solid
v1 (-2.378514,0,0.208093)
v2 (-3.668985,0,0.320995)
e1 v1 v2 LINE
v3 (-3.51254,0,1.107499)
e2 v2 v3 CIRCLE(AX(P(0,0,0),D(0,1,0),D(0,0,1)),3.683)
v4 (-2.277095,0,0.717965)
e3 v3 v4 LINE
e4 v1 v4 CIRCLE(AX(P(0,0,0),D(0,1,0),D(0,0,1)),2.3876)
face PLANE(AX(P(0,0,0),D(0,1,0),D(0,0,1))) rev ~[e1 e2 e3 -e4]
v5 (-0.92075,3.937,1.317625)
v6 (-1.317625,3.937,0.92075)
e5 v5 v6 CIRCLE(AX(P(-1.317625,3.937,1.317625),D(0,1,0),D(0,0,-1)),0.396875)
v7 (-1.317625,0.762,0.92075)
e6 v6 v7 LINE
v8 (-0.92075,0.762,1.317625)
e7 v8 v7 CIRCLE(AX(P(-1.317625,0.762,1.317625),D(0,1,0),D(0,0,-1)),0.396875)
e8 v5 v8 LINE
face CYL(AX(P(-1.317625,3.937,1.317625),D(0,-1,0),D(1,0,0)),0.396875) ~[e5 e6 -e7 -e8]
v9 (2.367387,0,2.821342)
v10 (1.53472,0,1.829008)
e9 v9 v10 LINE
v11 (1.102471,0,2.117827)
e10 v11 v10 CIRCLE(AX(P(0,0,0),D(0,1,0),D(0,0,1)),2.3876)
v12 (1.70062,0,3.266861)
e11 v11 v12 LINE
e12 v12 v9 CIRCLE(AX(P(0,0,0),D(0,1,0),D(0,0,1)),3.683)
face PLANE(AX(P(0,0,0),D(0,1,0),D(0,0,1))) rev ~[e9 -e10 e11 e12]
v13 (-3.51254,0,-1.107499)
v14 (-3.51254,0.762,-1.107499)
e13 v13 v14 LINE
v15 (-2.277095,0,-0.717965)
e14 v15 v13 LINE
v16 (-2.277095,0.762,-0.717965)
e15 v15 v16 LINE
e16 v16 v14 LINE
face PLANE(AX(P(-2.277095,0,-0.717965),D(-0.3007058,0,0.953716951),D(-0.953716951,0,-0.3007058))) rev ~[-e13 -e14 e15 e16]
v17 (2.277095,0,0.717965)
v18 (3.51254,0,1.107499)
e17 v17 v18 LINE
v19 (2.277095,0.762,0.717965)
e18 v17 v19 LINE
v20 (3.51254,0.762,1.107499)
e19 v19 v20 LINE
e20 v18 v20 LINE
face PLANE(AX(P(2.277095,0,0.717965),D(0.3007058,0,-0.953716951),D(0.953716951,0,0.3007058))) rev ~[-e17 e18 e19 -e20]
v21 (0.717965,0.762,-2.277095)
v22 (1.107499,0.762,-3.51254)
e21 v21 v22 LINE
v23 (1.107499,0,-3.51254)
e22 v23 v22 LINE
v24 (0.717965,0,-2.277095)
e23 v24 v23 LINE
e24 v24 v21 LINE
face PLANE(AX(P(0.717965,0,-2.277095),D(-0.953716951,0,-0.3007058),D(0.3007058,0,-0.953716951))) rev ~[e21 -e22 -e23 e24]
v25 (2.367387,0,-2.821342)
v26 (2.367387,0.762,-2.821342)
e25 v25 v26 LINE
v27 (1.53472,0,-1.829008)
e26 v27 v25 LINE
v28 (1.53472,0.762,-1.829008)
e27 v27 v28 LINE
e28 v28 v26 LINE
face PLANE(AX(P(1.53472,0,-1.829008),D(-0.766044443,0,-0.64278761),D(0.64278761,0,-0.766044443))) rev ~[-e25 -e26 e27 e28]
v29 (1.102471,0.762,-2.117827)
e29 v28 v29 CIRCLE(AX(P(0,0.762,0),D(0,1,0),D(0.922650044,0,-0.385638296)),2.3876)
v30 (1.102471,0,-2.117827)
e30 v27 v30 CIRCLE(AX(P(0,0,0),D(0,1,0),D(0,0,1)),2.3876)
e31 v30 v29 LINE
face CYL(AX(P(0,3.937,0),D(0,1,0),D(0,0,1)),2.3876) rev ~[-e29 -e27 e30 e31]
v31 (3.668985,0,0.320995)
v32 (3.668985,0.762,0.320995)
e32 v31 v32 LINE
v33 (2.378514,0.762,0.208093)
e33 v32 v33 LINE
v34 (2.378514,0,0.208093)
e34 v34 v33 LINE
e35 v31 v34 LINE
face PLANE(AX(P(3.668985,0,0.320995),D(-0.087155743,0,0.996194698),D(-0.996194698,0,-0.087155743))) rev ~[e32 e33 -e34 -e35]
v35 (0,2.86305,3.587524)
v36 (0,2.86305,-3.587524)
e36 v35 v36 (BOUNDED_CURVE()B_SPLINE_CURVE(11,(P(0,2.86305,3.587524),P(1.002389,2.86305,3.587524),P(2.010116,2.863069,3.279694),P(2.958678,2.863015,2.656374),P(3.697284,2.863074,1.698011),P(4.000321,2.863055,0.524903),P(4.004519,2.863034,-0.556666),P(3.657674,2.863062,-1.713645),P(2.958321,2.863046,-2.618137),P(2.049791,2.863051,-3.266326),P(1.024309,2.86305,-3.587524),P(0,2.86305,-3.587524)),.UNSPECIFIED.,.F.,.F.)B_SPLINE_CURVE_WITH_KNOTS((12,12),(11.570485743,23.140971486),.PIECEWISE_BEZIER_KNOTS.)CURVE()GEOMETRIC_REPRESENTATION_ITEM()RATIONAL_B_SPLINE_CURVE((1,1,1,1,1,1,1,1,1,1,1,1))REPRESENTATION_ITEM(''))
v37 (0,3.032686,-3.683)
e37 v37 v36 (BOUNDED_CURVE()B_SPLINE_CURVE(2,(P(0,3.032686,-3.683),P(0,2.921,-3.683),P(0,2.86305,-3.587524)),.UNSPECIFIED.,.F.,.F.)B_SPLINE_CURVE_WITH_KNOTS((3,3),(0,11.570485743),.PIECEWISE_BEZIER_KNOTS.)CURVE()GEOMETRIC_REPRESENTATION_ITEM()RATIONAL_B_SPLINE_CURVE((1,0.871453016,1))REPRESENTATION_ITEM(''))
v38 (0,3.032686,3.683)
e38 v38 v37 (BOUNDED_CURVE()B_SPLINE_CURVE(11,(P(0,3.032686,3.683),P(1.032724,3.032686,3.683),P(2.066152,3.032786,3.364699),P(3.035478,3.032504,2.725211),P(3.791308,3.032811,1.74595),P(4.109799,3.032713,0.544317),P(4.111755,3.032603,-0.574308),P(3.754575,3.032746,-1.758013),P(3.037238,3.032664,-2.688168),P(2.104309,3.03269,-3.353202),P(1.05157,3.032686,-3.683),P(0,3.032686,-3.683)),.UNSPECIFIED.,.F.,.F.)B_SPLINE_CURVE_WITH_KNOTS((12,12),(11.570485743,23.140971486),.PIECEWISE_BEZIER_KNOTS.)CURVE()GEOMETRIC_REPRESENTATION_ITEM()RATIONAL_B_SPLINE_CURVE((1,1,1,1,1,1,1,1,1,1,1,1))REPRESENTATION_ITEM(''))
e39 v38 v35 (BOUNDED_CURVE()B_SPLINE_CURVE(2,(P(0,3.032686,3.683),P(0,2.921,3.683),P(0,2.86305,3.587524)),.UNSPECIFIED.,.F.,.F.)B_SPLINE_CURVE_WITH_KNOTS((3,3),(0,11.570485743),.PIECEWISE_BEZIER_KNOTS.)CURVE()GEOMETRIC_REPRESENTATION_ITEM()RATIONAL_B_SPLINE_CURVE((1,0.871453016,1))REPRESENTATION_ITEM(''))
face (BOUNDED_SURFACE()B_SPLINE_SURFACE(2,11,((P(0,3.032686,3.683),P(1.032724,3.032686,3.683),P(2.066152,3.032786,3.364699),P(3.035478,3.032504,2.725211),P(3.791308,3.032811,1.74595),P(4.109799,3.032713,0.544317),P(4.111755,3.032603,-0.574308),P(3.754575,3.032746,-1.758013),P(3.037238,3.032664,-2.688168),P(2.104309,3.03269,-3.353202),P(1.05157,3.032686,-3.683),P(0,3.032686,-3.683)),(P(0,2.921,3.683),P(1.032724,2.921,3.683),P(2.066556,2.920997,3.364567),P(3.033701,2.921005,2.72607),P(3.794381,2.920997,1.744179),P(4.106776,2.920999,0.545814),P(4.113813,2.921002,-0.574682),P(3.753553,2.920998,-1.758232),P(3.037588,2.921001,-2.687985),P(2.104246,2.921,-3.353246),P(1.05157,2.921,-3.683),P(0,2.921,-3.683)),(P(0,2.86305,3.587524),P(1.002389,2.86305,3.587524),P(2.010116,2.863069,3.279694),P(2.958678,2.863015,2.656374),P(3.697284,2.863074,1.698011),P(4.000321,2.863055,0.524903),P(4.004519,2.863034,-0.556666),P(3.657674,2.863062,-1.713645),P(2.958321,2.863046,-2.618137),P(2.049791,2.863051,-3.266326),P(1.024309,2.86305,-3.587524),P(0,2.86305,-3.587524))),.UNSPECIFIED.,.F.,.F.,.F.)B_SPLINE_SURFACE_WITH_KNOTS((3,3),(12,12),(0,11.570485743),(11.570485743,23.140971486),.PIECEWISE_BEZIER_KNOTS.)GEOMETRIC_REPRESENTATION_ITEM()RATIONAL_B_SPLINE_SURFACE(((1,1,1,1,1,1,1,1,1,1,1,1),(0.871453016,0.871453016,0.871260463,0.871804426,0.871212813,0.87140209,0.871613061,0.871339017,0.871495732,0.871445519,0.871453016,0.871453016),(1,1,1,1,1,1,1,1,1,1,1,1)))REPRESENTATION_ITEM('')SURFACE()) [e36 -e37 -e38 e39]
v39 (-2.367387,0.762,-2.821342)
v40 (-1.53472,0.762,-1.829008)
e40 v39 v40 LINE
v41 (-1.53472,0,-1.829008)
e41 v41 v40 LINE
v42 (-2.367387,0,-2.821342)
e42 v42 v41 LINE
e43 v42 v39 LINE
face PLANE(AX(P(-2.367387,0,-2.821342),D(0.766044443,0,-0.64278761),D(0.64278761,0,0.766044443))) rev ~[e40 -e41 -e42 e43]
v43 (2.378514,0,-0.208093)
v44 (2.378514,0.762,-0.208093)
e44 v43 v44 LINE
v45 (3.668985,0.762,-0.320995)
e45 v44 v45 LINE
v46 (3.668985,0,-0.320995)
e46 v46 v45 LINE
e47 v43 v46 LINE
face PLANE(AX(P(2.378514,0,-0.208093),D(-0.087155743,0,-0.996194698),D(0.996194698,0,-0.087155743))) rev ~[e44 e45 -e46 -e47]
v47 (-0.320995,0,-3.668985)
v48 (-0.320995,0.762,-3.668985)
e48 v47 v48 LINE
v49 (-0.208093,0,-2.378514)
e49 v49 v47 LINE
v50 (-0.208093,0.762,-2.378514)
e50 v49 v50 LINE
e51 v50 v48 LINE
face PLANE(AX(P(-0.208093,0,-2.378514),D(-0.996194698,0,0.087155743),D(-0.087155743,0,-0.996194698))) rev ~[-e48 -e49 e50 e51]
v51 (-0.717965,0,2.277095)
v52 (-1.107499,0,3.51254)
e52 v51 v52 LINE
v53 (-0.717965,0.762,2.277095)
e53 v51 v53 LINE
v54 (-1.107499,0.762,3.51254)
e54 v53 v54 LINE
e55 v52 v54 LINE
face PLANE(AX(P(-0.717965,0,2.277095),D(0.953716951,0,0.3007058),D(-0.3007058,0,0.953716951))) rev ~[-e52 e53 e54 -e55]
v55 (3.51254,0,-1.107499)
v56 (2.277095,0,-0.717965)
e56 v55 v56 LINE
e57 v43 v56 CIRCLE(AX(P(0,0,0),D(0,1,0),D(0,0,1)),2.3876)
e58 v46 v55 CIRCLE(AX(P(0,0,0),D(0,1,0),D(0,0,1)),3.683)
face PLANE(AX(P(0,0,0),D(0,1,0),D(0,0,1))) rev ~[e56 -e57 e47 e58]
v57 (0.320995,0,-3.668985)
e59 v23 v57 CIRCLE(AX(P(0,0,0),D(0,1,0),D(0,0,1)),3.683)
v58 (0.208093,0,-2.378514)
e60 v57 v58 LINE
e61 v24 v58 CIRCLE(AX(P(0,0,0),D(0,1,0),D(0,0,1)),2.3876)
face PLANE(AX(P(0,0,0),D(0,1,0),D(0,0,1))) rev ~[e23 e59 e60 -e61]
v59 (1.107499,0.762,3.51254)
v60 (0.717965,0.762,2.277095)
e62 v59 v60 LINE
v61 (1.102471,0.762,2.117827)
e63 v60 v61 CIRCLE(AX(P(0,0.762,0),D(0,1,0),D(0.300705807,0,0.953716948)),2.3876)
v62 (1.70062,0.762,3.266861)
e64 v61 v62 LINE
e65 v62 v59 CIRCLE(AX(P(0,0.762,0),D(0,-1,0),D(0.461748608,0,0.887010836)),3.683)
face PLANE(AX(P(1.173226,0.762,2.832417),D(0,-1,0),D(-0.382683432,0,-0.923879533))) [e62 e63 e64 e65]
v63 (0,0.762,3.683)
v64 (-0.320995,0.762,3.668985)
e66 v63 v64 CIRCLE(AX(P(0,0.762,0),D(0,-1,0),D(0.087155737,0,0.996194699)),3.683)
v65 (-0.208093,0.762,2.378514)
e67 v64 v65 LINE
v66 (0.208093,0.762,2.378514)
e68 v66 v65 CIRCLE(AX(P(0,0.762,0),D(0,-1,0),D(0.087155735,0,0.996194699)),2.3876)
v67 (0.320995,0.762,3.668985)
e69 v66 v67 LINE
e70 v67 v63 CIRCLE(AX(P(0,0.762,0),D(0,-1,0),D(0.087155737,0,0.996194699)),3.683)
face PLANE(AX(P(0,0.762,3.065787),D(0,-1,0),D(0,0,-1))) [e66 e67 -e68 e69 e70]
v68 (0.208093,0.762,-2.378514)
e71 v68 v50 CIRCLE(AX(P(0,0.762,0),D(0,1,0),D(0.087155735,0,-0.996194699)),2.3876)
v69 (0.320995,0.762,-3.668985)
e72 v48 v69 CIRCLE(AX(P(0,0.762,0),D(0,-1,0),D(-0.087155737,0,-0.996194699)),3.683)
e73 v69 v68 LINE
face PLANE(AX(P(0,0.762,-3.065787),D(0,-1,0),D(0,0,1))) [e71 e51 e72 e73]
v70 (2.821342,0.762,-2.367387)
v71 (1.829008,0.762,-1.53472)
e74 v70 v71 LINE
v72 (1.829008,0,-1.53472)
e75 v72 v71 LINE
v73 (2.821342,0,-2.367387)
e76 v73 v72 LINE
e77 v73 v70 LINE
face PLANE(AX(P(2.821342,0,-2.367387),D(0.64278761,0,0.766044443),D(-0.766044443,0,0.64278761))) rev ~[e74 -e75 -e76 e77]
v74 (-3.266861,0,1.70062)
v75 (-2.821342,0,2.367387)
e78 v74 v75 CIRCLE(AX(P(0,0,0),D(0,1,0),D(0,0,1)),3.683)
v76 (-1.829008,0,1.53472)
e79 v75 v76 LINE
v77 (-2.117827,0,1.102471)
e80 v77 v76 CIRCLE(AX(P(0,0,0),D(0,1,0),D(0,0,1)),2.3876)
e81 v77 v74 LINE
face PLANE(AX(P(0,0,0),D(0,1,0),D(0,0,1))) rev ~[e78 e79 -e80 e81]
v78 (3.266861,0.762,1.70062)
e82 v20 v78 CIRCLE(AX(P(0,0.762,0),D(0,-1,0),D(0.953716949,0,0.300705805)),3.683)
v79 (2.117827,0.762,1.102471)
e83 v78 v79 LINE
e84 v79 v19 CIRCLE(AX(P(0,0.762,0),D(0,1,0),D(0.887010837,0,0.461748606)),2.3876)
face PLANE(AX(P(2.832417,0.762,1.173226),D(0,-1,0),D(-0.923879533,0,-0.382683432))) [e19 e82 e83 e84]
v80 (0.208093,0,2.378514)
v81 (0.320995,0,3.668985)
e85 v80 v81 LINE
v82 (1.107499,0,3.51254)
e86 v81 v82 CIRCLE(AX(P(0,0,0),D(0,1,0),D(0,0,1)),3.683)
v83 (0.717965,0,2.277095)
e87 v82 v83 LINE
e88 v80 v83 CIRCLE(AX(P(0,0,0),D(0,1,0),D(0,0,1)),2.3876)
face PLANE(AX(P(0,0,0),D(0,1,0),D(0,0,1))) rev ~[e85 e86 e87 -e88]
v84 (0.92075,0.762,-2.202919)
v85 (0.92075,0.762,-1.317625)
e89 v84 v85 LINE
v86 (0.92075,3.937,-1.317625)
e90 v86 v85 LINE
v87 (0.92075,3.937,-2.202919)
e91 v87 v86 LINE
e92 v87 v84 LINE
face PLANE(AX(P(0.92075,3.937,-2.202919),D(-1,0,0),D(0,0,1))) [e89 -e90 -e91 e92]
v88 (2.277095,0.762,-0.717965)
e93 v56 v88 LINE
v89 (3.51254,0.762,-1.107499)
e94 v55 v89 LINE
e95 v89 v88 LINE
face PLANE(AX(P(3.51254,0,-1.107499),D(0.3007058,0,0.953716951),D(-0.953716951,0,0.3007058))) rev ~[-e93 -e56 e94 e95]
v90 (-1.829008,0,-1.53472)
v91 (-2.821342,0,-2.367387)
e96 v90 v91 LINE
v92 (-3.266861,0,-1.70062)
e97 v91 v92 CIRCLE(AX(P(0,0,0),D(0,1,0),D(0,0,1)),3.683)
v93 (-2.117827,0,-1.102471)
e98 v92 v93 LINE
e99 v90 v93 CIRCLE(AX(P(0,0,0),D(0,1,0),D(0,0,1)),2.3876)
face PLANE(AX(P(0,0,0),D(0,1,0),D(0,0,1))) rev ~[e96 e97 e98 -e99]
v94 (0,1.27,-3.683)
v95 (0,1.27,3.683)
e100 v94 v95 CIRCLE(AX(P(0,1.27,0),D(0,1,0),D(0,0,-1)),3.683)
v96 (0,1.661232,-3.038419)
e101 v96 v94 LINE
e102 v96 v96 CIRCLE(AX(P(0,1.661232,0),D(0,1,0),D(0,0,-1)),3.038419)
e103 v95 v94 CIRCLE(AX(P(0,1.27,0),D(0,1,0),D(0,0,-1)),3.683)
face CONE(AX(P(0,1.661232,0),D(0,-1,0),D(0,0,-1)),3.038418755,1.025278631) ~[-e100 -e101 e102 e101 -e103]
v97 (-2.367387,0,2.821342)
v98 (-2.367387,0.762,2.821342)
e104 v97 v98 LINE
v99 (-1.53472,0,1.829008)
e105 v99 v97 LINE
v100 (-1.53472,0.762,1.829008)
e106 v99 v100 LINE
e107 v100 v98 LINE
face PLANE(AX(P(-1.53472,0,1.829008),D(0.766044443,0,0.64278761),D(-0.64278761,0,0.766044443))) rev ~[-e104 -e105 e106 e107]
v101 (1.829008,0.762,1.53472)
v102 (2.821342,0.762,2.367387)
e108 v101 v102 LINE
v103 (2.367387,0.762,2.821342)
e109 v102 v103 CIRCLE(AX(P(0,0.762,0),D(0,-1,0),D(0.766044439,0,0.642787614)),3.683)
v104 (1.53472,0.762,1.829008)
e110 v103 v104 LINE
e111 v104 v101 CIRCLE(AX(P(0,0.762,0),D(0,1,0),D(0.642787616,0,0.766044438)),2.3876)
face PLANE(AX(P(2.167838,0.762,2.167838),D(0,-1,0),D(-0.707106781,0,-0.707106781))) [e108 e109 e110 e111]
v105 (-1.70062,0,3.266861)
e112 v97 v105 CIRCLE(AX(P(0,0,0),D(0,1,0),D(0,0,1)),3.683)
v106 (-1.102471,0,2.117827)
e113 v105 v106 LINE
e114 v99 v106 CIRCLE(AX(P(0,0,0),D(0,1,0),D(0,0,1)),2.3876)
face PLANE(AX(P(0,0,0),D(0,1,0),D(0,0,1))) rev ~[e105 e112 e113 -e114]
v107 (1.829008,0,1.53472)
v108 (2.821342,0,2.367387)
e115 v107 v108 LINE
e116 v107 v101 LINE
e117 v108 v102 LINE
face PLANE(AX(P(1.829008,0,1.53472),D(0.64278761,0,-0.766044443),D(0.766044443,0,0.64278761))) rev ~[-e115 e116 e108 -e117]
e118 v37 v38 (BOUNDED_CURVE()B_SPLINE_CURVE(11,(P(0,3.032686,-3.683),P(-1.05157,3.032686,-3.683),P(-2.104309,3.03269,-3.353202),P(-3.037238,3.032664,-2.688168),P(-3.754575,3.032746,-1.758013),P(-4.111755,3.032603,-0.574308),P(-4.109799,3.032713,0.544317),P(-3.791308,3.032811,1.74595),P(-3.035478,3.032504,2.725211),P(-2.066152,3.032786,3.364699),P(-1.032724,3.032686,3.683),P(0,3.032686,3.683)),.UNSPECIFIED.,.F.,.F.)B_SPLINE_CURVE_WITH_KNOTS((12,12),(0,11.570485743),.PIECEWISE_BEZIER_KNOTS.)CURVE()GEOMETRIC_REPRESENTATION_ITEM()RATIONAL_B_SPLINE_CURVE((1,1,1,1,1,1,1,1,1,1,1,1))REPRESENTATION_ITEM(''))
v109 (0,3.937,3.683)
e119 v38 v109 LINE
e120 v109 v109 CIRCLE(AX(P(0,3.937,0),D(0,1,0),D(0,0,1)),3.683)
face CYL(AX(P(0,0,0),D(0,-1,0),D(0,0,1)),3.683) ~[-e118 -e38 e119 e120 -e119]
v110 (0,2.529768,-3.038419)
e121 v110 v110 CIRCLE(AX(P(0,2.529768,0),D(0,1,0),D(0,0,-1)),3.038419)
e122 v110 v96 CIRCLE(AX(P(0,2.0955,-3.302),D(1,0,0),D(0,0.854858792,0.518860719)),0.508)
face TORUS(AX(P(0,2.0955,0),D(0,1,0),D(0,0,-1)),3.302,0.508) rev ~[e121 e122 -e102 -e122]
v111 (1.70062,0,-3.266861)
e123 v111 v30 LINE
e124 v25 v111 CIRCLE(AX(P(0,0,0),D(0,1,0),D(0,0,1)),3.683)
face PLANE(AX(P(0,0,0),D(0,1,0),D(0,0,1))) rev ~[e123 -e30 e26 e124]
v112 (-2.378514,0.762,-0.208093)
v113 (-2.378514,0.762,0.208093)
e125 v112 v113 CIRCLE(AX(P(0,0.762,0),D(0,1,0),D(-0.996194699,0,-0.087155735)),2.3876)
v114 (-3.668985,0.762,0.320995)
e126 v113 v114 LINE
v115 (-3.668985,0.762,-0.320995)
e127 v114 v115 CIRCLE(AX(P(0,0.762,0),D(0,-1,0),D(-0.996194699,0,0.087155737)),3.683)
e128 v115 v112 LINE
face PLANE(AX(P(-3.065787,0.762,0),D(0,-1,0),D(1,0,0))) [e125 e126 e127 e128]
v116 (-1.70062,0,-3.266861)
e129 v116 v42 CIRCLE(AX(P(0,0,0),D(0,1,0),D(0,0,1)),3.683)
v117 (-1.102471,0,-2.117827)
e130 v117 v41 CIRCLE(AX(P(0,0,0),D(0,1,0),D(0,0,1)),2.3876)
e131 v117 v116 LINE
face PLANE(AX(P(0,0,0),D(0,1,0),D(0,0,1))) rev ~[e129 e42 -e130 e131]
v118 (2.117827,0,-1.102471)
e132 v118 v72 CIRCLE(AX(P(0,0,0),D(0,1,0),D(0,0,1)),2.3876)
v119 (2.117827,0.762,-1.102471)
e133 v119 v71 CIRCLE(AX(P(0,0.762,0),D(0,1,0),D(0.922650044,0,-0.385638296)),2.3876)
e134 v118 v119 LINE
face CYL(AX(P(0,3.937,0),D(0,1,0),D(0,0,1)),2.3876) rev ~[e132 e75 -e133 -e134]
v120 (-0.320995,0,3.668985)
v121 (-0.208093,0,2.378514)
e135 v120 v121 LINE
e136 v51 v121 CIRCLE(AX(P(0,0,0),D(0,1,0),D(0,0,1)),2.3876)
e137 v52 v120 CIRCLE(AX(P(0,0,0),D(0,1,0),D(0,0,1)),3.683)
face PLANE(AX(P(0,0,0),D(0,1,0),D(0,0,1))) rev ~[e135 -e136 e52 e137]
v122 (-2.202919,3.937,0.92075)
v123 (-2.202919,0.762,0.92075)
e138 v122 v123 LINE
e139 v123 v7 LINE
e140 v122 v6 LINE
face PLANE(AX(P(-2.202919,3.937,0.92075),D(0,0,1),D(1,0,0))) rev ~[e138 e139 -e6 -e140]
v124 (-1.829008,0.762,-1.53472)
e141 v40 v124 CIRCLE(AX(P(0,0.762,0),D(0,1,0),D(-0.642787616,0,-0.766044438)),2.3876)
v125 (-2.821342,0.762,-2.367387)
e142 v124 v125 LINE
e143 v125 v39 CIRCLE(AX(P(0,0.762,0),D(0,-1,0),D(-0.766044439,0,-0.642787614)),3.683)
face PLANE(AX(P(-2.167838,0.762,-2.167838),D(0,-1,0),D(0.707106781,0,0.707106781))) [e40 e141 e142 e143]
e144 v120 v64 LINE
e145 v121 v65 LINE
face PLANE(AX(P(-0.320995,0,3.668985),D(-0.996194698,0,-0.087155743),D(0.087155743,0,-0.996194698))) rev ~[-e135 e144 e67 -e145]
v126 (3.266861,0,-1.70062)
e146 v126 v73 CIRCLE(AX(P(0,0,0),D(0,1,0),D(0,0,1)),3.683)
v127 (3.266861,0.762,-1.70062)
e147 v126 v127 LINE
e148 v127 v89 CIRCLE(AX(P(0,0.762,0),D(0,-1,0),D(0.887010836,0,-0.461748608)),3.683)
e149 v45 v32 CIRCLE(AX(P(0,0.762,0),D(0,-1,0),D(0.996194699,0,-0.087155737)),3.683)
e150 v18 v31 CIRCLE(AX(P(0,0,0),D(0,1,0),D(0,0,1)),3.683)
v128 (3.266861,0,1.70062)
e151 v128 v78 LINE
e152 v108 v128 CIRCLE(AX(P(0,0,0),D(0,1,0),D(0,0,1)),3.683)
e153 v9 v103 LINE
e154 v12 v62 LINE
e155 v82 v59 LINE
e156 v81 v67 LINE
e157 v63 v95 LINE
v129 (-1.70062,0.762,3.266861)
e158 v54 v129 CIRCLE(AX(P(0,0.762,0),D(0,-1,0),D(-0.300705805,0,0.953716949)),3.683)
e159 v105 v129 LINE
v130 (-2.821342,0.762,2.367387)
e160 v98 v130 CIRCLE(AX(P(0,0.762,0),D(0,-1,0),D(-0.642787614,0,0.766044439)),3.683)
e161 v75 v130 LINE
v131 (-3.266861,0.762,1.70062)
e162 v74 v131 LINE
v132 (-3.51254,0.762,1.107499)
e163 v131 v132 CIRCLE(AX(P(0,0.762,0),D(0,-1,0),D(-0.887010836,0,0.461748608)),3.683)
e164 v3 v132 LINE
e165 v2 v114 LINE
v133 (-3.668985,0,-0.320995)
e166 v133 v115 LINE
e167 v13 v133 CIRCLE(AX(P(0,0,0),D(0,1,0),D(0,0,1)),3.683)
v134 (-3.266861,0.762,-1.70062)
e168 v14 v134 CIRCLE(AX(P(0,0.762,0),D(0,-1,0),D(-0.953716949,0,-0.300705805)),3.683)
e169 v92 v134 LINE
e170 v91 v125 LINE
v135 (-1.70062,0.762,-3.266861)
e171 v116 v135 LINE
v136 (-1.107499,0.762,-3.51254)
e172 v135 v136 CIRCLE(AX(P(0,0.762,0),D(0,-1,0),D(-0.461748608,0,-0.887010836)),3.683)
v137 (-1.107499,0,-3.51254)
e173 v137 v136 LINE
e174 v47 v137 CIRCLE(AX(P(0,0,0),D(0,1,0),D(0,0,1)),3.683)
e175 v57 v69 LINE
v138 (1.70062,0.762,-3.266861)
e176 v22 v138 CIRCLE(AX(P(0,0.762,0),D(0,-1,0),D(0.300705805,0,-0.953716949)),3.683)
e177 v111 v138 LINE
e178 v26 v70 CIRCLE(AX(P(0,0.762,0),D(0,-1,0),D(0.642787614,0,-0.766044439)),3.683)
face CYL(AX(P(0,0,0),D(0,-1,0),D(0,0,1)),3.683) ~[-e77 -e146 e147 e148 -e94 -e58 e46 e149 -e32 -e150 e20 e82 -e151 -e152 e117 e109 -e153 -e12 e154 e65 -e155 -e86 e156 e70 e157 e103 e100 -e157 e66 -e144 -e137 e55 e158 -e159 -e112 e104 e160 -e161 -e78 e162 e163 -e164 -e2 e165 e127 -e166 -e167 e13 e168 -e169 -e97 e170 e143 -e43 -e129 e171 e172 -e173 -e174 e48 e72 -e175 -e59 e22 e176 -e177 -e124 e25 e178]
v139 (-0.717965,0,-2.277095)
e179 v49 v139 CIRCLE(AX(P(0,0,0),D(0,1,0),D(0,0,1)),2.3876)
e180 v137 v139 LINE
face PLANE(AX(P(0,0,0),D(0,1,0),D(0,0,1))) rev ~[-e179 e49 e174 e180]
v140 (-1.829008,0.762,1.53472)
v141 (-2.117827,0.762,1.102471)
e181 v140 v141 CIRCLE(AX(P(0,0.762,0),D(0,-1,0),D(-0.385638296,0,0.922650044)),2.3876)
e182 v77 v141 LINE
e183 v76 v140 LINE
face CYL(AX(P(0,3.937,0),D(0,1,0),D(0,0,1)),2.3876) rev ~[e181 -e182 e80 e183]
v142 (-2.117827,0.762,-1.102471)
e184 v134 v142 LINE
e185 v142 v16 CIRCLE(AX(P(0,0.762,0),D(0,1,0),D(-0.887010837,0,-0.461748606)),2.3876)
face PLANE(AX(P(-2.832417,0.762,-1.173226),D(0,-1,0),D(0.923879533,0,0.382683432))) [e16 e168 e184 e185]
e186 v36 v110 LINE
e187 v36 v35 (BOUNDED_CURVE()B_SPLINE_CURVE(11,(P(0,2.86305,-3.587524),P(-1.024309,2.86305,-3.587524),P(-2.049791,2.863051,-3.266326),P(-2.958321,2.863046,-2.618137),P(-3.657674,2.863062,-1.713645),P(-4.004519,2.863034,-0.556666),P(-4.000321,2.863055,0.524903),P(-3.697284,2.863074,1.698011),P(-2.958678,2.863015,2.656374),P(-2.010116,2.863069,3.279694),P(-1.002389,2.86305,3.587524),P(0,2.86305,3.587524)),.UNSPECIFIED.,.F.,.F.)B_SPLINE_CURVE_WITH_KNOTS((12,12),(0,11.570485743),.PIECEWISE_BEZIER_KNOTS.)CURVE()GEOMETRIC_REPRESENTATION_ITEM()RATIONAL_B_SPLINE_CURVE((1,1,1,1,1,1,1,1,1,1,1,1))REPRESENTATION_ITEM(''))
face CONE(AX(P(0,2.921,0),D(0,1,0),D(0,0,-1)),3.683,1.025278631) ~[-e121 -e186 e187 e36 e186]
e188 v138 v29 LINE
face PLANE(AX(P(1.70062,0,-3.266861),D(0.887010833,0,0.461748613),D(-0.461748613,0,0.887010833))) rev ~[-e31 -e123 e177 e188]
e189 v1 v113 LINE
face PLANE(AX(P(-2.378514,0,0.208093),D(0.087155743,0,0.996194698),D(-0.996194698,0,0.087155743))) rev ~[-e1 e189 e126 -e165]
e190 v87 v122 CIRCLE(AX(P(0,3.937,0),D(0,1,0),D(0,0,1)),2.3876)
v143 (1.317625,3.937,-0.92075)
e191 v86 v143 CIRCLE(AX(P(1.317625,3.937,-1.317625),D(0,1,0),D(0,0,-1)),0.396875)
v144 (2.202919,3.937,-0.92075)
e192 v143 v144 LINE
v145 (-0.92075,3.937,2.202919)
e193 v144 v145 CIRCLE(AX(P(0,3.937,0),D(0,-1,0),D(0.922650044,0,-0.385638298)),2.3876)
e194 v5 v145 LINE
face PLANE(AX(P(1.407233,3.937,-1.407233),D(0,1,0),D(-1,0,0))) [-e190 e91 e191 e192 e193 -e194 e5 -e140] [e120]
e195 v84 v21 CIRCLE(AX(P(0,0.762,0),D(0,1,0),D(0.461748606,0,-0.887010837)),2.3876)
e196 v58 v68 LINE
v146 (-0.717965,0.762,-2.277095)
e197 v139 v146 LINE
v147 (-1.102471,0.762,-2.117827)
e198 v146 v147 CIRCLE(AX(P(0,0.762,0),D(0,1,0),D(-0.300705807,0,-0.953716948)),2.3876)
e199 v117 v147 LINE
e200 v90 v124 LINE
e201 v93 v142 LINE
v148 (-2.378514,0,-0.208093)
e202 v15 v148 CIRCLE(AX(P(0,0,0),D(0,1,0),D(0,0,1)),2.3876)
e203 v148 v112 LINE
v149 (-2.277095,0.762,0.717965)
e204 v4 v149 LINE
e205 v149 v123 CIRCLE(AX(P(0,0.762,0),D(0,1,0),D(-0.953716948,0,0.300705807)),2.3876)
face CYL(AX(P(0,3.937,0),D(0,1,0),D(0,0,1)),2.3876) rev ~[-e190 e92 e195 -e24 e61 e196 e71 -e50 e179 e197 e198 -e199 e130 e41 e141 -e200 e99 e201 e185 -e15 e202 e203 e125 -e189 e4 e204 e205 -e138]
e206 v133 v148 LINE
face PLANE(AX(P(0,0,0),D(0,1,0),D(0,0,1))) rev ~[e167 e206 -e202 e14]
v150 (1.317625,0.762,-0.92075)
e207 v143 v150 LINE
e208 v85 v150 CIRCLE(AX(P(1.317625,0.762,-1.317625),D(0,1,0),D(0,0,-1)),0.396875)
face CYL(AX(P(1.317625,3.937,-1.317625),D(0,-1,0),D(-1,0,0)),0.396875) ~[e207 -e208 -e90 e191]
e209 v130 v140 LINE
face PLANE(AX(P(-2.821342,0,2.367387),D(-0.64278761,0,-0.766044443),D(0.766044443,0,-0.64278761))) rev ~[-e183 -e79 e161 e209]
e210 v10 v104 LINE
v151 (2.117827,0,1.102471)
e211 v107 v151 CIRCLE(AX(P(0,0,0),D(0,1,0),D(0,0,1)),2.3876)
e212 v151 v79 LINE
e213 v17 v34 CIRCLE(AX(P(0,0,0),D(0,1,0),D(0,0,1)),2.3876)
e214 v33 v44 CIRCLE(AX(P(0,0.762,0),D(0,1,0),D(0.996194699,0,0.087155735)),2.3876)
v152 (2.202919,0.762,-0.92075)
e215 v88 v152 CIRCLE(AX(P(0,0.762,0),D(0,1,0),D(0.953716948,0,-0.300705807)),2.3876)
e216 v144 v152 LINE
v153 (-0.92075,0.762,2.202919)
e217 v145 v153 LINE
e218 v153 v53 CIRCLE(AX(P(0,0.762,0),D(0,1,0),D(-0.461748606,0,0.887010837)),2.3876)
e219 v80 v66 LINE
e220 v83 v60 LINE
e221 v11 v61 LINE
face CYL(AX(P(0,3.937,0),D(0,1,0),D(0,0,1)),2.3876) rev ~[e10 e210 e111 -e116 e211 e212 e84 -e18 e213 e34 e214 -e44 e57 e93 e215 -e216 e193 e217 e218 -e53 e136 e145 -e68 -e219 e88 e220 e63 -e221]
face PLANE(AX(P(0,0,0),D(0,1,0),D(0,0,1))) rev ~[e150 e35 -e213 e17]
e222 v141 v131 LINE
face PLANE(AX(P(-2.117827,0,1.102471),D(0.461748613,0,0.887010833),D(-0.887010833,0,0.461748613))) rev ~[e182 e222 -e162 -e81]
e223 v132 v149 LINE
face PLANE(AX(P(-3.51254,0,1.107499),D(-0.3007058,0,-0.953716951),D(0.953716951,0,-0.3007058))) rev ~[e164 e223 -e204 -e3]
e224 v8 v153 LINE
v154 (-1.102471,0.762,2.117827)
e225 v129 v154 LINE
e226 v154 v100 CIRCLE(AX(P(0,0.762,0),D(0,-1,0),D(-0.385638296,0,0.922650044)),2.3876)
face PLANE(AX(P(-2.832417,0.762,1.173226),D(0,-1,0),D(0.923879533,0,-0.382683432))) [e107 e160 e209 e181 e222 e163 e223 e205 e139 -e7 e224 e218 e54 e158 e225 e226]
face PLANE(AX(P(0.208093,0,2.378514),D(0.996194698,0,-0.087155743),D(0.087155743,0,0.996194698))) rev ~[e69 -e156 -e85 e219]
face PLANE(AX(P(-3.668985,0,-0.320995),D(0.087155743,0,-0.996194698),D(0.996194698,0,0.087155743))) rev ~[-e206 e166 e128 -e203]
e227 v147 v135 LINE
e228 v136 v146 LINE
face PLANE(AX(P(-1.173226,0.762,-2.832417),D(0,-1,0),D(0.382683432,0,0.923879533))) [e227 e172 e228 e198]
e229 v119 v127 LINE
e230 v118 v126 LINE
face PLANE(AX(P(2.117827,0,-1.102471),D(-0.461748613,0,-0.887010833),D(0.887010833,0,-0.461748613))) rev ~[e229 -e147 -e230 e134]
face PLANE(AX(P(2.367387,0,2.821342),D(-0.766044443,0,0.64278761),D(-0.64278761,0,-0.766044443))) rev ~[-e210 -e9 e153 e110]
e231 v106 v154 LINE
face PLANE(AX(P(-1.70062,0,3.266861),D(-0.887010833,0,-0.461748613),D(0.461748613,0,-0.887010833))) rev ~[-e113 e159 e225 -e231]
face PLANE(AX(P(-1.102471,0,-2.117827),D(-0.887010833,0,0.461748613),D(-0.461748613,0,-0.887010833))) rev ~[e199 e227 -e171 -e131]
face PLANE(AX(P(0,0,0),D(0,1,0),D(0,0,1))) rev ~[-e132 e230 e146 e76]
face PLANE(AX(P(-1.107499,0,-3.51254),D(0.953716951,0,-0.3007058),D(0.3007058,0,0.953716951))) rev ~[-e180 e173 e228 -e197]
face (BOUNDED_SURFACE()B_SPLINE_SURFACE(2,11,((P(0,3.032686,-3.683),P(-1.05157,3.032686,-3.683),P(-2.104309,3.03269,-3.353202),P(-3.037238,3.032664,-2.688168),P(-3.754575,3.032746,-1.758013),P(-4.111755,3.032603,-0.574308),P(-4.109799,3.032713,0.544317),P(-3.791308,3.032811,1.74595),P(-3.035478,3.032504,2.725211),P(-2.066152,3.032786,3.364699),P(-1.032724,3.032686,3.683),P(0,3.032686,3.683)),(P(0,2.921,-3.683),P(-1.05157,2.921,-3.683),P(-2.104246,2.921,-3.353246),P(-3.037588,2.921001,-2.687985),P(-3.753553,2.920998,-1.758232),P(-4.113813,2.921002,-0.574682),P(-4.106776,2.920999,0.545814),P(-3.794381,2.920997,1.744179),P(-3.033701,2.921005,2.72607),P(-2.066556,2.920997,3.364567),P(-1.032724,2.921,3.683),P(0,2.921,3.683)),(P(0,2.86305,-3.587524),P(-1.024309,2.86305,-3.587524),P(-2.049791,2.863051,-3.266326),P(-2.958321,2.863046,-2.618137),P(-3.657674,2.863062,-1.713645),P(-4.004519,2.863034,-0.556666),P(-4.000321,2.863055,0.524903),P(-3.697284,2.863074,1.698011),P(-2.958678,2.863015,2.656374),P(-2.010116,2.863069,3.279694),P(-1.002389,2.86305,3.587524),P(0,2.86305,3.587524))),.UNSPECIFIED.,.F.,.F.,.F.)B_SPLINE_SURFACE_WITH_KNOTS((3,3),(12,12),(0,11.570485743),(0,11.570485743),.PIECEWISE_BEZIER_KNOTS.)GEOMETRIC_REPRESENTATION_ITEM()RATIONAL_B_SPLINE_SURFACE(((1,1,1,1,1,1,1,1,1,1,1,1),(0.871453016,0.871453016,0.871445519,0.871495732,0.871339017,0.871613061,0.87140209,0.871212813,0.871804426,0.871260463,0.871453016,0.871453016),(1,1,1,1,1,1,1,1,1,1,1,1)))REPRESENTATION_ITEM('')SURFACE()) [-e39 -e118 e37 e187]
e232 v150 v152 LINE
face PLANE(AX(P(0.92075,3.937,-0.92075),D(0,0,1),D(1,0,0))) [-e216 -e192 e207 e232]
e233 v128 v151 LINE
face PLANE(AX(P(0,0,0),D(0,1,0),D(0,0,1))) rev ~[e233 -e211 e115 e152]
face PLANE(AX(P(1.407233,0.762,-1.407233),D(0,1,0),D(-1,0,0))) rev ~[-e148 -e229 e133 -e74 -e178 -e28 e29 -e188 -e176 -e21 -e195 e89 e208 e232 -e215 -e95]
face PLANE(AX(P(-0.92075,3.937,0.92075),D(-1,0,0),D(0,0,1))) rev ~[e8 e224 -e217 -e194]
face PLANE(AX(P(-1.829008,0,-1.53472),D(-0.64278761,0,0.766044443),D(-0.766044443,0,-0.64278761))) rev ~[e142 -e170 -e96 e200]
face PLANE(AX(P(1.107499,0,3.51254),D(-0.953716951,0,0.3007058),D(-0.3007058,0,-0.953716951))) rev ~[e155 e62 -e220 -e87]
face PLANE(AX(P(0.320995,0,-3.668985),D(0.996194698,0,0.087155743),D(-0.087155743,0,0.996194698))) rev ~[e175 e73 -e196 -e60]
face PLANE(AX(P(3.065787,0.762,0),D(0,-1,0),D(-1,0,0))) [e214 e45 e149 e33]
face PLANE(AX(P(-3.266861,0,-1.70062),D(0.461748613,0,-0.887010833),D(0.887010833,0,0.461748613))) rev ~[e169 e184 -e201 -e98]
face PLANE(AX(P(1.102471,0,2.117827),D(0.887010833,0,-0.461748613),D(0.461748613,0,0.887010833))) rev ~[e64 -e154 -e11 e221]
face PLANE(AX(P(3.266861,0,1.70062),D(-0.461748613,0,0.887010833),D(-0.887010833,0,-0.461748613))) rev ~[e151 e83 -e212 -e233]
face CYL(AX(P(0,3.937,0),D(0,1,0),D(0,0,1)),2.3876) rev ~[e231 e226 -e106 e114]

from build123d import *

# Parameters (mm, degrees)
SKETCH1_R           = 3.683
BASE_EXTRUDE_DEPTH  = 3.937
SKETCH2_R           = 2.3876
CUT_EXTRUDE1_DEPTH  = 7.529084698
CUT_EXTRUDE2_DEPTH  = 0.762
CIRPATTERN1_COUNT   = 16
BOSS_EXTRUDE1_DEPTH = 3.175
FILLET1_R           = 0.396875
FILLET2_R           = 0.1984375


with BuildPart() as part:
    # Sketch1 → Base-Extrude (new body)
    with BuildSketch(Plane(origin=(0, 0, 0), x_dir=(1, 0, 0), z_dir=(0, 1, 0))):
        with Locations(Location((0, 0, 0), (0, 0, 270))):
            Circle(SKETCH1_R)
    extrude(amount=BASE_EXTRUDE_DEPTH)

    # Sketch2 → Cut-Extrude1 (cut, through all)
    with BuildSketch(Plane(origin=(0, 3.937, 0), x_dir=(-1, 0, 0), z_dir=(0, 1, 0))):
        with Locations(Location((0, 0, 0), (0, 0, 90))):
            Circle(SKETCH2_R)
    extrude(amount=-CUT_EXTRUDE1_DEPTH, mode=Mode.SUBTRACT)

    # Sketch4 → Cut-Revolve1 (revolve, cut)
    with BuildSketch(Plane.XY, mode=Mode.PRIVATE) as cut_revolve1_sk:
        with BuildLine():
            Line((3.683, 2.921), (3.038418755, 2.529768267))
            ThreePointArc((3.038418755, 2.529768267), (2.794, 2.0955), (3.038418755, 1.661231733))
            Line((3.038418755, 1.661231733), (3.683, 1.27))
            Line((3.683, 1.27), (3.683, 2.921))
        make_face()
    revolve(cut_revolve1_sk.sketch.rotate(Axis((0, 0, 0), (0, 1, 0)), 90), axis=Axis((0, 0, 0), (0, 1, 0)), mode=Mode.SUBTRACT)

    # Sketch5 → Cut-Extrude2 (cut)
    with BuildSketch(Plane(origin=(16.494267977, 0, 2.582932293), x_dir=(1, 0, 0), z_dir=(0, -1, 0))):
        with BuildLine():
            Line((-18.872782439, -2.374839241), (-20.163253051, -2.261937692))
            ThreePointArc((-20.163253051, -2.261937692), (-20.177267977, -2.582932293), (-20.163253051, -2.903926893))
            Line((-20.163253051, -2.903926893), (-18.872782439, -2.791025344))
            ThreePointArc((-18.872782439, -2.791025344), (-18.881867977, -2.582932293), (-18.872782439, -2.374839241))
        make_face()
    cut_extrude2 = extrude(amount=-CUT_EXTRUDE2_DEPTH, mode=Mode.SUBTRACT)

    # CirPattern1: Cut-Extrude2 ×16 about axis
    cirpattern1_axis = Axis((0, 0, 0), (0, 1, 0))
    for i in range(1, CIRPATTERN1_COUNT):
        add(cut_extrude2.rotate(cirpattern1_axis, i * 360 / CIRPATTERN1_COUNT), mode=Mode.SUBTRACT)

    # Sketch6 → Boss-Extrude1 (add)
    with BuildSketch(Plane(origin=(0, 3.937, 0), x_dir=(-1, 0, 0), z_dir=(0, 1, 0))):
        with BuildLine():
            Line((-0.92075, -2.202919244), (-0.92075, -0.92075))
            Line((-0.92075, -0.92075), (-2.202919244, -0.92075))
            ThreePointArc((-2.202919244, -0.92075), (-1.688288151, -1.688288151), (-0.92075, -2.202919244))
        make_face()
        with BuildLine():
            Line((2.202919244, 0.92075), (0.92075, 0.92075))
            Line((0.92075, 0.92075), (0.92075, 2.202919244))
            ThreePointArc((0.92075, 2.202919244), (1.688288151, 1.688288151), (2.202919244, 0.92075))
        make_face()
    extrude(amount=-BOSS_EXTRUDE1_DEPTH)

    # Fillet1
    fillet1_edges = [part.edges().sort_by_distance(p)[0] for p in [
        (0.92075, 2.3495, -0.92075),
        (-0.92075, 2.3495, 0.92075),
    ]]
    fillet(fillet1_edges, radius=FILLET1_R)

    # Fillet2
    fillet2_edges = [part.edges().sort_by_distance(p)[0] for p in [
        (-3.683, 2.921, 0),
        (-3.683, 2.921, 0),
    ]]
    fillet(fillet2_edges, radius=FILLET2_R)


solid = part.part
